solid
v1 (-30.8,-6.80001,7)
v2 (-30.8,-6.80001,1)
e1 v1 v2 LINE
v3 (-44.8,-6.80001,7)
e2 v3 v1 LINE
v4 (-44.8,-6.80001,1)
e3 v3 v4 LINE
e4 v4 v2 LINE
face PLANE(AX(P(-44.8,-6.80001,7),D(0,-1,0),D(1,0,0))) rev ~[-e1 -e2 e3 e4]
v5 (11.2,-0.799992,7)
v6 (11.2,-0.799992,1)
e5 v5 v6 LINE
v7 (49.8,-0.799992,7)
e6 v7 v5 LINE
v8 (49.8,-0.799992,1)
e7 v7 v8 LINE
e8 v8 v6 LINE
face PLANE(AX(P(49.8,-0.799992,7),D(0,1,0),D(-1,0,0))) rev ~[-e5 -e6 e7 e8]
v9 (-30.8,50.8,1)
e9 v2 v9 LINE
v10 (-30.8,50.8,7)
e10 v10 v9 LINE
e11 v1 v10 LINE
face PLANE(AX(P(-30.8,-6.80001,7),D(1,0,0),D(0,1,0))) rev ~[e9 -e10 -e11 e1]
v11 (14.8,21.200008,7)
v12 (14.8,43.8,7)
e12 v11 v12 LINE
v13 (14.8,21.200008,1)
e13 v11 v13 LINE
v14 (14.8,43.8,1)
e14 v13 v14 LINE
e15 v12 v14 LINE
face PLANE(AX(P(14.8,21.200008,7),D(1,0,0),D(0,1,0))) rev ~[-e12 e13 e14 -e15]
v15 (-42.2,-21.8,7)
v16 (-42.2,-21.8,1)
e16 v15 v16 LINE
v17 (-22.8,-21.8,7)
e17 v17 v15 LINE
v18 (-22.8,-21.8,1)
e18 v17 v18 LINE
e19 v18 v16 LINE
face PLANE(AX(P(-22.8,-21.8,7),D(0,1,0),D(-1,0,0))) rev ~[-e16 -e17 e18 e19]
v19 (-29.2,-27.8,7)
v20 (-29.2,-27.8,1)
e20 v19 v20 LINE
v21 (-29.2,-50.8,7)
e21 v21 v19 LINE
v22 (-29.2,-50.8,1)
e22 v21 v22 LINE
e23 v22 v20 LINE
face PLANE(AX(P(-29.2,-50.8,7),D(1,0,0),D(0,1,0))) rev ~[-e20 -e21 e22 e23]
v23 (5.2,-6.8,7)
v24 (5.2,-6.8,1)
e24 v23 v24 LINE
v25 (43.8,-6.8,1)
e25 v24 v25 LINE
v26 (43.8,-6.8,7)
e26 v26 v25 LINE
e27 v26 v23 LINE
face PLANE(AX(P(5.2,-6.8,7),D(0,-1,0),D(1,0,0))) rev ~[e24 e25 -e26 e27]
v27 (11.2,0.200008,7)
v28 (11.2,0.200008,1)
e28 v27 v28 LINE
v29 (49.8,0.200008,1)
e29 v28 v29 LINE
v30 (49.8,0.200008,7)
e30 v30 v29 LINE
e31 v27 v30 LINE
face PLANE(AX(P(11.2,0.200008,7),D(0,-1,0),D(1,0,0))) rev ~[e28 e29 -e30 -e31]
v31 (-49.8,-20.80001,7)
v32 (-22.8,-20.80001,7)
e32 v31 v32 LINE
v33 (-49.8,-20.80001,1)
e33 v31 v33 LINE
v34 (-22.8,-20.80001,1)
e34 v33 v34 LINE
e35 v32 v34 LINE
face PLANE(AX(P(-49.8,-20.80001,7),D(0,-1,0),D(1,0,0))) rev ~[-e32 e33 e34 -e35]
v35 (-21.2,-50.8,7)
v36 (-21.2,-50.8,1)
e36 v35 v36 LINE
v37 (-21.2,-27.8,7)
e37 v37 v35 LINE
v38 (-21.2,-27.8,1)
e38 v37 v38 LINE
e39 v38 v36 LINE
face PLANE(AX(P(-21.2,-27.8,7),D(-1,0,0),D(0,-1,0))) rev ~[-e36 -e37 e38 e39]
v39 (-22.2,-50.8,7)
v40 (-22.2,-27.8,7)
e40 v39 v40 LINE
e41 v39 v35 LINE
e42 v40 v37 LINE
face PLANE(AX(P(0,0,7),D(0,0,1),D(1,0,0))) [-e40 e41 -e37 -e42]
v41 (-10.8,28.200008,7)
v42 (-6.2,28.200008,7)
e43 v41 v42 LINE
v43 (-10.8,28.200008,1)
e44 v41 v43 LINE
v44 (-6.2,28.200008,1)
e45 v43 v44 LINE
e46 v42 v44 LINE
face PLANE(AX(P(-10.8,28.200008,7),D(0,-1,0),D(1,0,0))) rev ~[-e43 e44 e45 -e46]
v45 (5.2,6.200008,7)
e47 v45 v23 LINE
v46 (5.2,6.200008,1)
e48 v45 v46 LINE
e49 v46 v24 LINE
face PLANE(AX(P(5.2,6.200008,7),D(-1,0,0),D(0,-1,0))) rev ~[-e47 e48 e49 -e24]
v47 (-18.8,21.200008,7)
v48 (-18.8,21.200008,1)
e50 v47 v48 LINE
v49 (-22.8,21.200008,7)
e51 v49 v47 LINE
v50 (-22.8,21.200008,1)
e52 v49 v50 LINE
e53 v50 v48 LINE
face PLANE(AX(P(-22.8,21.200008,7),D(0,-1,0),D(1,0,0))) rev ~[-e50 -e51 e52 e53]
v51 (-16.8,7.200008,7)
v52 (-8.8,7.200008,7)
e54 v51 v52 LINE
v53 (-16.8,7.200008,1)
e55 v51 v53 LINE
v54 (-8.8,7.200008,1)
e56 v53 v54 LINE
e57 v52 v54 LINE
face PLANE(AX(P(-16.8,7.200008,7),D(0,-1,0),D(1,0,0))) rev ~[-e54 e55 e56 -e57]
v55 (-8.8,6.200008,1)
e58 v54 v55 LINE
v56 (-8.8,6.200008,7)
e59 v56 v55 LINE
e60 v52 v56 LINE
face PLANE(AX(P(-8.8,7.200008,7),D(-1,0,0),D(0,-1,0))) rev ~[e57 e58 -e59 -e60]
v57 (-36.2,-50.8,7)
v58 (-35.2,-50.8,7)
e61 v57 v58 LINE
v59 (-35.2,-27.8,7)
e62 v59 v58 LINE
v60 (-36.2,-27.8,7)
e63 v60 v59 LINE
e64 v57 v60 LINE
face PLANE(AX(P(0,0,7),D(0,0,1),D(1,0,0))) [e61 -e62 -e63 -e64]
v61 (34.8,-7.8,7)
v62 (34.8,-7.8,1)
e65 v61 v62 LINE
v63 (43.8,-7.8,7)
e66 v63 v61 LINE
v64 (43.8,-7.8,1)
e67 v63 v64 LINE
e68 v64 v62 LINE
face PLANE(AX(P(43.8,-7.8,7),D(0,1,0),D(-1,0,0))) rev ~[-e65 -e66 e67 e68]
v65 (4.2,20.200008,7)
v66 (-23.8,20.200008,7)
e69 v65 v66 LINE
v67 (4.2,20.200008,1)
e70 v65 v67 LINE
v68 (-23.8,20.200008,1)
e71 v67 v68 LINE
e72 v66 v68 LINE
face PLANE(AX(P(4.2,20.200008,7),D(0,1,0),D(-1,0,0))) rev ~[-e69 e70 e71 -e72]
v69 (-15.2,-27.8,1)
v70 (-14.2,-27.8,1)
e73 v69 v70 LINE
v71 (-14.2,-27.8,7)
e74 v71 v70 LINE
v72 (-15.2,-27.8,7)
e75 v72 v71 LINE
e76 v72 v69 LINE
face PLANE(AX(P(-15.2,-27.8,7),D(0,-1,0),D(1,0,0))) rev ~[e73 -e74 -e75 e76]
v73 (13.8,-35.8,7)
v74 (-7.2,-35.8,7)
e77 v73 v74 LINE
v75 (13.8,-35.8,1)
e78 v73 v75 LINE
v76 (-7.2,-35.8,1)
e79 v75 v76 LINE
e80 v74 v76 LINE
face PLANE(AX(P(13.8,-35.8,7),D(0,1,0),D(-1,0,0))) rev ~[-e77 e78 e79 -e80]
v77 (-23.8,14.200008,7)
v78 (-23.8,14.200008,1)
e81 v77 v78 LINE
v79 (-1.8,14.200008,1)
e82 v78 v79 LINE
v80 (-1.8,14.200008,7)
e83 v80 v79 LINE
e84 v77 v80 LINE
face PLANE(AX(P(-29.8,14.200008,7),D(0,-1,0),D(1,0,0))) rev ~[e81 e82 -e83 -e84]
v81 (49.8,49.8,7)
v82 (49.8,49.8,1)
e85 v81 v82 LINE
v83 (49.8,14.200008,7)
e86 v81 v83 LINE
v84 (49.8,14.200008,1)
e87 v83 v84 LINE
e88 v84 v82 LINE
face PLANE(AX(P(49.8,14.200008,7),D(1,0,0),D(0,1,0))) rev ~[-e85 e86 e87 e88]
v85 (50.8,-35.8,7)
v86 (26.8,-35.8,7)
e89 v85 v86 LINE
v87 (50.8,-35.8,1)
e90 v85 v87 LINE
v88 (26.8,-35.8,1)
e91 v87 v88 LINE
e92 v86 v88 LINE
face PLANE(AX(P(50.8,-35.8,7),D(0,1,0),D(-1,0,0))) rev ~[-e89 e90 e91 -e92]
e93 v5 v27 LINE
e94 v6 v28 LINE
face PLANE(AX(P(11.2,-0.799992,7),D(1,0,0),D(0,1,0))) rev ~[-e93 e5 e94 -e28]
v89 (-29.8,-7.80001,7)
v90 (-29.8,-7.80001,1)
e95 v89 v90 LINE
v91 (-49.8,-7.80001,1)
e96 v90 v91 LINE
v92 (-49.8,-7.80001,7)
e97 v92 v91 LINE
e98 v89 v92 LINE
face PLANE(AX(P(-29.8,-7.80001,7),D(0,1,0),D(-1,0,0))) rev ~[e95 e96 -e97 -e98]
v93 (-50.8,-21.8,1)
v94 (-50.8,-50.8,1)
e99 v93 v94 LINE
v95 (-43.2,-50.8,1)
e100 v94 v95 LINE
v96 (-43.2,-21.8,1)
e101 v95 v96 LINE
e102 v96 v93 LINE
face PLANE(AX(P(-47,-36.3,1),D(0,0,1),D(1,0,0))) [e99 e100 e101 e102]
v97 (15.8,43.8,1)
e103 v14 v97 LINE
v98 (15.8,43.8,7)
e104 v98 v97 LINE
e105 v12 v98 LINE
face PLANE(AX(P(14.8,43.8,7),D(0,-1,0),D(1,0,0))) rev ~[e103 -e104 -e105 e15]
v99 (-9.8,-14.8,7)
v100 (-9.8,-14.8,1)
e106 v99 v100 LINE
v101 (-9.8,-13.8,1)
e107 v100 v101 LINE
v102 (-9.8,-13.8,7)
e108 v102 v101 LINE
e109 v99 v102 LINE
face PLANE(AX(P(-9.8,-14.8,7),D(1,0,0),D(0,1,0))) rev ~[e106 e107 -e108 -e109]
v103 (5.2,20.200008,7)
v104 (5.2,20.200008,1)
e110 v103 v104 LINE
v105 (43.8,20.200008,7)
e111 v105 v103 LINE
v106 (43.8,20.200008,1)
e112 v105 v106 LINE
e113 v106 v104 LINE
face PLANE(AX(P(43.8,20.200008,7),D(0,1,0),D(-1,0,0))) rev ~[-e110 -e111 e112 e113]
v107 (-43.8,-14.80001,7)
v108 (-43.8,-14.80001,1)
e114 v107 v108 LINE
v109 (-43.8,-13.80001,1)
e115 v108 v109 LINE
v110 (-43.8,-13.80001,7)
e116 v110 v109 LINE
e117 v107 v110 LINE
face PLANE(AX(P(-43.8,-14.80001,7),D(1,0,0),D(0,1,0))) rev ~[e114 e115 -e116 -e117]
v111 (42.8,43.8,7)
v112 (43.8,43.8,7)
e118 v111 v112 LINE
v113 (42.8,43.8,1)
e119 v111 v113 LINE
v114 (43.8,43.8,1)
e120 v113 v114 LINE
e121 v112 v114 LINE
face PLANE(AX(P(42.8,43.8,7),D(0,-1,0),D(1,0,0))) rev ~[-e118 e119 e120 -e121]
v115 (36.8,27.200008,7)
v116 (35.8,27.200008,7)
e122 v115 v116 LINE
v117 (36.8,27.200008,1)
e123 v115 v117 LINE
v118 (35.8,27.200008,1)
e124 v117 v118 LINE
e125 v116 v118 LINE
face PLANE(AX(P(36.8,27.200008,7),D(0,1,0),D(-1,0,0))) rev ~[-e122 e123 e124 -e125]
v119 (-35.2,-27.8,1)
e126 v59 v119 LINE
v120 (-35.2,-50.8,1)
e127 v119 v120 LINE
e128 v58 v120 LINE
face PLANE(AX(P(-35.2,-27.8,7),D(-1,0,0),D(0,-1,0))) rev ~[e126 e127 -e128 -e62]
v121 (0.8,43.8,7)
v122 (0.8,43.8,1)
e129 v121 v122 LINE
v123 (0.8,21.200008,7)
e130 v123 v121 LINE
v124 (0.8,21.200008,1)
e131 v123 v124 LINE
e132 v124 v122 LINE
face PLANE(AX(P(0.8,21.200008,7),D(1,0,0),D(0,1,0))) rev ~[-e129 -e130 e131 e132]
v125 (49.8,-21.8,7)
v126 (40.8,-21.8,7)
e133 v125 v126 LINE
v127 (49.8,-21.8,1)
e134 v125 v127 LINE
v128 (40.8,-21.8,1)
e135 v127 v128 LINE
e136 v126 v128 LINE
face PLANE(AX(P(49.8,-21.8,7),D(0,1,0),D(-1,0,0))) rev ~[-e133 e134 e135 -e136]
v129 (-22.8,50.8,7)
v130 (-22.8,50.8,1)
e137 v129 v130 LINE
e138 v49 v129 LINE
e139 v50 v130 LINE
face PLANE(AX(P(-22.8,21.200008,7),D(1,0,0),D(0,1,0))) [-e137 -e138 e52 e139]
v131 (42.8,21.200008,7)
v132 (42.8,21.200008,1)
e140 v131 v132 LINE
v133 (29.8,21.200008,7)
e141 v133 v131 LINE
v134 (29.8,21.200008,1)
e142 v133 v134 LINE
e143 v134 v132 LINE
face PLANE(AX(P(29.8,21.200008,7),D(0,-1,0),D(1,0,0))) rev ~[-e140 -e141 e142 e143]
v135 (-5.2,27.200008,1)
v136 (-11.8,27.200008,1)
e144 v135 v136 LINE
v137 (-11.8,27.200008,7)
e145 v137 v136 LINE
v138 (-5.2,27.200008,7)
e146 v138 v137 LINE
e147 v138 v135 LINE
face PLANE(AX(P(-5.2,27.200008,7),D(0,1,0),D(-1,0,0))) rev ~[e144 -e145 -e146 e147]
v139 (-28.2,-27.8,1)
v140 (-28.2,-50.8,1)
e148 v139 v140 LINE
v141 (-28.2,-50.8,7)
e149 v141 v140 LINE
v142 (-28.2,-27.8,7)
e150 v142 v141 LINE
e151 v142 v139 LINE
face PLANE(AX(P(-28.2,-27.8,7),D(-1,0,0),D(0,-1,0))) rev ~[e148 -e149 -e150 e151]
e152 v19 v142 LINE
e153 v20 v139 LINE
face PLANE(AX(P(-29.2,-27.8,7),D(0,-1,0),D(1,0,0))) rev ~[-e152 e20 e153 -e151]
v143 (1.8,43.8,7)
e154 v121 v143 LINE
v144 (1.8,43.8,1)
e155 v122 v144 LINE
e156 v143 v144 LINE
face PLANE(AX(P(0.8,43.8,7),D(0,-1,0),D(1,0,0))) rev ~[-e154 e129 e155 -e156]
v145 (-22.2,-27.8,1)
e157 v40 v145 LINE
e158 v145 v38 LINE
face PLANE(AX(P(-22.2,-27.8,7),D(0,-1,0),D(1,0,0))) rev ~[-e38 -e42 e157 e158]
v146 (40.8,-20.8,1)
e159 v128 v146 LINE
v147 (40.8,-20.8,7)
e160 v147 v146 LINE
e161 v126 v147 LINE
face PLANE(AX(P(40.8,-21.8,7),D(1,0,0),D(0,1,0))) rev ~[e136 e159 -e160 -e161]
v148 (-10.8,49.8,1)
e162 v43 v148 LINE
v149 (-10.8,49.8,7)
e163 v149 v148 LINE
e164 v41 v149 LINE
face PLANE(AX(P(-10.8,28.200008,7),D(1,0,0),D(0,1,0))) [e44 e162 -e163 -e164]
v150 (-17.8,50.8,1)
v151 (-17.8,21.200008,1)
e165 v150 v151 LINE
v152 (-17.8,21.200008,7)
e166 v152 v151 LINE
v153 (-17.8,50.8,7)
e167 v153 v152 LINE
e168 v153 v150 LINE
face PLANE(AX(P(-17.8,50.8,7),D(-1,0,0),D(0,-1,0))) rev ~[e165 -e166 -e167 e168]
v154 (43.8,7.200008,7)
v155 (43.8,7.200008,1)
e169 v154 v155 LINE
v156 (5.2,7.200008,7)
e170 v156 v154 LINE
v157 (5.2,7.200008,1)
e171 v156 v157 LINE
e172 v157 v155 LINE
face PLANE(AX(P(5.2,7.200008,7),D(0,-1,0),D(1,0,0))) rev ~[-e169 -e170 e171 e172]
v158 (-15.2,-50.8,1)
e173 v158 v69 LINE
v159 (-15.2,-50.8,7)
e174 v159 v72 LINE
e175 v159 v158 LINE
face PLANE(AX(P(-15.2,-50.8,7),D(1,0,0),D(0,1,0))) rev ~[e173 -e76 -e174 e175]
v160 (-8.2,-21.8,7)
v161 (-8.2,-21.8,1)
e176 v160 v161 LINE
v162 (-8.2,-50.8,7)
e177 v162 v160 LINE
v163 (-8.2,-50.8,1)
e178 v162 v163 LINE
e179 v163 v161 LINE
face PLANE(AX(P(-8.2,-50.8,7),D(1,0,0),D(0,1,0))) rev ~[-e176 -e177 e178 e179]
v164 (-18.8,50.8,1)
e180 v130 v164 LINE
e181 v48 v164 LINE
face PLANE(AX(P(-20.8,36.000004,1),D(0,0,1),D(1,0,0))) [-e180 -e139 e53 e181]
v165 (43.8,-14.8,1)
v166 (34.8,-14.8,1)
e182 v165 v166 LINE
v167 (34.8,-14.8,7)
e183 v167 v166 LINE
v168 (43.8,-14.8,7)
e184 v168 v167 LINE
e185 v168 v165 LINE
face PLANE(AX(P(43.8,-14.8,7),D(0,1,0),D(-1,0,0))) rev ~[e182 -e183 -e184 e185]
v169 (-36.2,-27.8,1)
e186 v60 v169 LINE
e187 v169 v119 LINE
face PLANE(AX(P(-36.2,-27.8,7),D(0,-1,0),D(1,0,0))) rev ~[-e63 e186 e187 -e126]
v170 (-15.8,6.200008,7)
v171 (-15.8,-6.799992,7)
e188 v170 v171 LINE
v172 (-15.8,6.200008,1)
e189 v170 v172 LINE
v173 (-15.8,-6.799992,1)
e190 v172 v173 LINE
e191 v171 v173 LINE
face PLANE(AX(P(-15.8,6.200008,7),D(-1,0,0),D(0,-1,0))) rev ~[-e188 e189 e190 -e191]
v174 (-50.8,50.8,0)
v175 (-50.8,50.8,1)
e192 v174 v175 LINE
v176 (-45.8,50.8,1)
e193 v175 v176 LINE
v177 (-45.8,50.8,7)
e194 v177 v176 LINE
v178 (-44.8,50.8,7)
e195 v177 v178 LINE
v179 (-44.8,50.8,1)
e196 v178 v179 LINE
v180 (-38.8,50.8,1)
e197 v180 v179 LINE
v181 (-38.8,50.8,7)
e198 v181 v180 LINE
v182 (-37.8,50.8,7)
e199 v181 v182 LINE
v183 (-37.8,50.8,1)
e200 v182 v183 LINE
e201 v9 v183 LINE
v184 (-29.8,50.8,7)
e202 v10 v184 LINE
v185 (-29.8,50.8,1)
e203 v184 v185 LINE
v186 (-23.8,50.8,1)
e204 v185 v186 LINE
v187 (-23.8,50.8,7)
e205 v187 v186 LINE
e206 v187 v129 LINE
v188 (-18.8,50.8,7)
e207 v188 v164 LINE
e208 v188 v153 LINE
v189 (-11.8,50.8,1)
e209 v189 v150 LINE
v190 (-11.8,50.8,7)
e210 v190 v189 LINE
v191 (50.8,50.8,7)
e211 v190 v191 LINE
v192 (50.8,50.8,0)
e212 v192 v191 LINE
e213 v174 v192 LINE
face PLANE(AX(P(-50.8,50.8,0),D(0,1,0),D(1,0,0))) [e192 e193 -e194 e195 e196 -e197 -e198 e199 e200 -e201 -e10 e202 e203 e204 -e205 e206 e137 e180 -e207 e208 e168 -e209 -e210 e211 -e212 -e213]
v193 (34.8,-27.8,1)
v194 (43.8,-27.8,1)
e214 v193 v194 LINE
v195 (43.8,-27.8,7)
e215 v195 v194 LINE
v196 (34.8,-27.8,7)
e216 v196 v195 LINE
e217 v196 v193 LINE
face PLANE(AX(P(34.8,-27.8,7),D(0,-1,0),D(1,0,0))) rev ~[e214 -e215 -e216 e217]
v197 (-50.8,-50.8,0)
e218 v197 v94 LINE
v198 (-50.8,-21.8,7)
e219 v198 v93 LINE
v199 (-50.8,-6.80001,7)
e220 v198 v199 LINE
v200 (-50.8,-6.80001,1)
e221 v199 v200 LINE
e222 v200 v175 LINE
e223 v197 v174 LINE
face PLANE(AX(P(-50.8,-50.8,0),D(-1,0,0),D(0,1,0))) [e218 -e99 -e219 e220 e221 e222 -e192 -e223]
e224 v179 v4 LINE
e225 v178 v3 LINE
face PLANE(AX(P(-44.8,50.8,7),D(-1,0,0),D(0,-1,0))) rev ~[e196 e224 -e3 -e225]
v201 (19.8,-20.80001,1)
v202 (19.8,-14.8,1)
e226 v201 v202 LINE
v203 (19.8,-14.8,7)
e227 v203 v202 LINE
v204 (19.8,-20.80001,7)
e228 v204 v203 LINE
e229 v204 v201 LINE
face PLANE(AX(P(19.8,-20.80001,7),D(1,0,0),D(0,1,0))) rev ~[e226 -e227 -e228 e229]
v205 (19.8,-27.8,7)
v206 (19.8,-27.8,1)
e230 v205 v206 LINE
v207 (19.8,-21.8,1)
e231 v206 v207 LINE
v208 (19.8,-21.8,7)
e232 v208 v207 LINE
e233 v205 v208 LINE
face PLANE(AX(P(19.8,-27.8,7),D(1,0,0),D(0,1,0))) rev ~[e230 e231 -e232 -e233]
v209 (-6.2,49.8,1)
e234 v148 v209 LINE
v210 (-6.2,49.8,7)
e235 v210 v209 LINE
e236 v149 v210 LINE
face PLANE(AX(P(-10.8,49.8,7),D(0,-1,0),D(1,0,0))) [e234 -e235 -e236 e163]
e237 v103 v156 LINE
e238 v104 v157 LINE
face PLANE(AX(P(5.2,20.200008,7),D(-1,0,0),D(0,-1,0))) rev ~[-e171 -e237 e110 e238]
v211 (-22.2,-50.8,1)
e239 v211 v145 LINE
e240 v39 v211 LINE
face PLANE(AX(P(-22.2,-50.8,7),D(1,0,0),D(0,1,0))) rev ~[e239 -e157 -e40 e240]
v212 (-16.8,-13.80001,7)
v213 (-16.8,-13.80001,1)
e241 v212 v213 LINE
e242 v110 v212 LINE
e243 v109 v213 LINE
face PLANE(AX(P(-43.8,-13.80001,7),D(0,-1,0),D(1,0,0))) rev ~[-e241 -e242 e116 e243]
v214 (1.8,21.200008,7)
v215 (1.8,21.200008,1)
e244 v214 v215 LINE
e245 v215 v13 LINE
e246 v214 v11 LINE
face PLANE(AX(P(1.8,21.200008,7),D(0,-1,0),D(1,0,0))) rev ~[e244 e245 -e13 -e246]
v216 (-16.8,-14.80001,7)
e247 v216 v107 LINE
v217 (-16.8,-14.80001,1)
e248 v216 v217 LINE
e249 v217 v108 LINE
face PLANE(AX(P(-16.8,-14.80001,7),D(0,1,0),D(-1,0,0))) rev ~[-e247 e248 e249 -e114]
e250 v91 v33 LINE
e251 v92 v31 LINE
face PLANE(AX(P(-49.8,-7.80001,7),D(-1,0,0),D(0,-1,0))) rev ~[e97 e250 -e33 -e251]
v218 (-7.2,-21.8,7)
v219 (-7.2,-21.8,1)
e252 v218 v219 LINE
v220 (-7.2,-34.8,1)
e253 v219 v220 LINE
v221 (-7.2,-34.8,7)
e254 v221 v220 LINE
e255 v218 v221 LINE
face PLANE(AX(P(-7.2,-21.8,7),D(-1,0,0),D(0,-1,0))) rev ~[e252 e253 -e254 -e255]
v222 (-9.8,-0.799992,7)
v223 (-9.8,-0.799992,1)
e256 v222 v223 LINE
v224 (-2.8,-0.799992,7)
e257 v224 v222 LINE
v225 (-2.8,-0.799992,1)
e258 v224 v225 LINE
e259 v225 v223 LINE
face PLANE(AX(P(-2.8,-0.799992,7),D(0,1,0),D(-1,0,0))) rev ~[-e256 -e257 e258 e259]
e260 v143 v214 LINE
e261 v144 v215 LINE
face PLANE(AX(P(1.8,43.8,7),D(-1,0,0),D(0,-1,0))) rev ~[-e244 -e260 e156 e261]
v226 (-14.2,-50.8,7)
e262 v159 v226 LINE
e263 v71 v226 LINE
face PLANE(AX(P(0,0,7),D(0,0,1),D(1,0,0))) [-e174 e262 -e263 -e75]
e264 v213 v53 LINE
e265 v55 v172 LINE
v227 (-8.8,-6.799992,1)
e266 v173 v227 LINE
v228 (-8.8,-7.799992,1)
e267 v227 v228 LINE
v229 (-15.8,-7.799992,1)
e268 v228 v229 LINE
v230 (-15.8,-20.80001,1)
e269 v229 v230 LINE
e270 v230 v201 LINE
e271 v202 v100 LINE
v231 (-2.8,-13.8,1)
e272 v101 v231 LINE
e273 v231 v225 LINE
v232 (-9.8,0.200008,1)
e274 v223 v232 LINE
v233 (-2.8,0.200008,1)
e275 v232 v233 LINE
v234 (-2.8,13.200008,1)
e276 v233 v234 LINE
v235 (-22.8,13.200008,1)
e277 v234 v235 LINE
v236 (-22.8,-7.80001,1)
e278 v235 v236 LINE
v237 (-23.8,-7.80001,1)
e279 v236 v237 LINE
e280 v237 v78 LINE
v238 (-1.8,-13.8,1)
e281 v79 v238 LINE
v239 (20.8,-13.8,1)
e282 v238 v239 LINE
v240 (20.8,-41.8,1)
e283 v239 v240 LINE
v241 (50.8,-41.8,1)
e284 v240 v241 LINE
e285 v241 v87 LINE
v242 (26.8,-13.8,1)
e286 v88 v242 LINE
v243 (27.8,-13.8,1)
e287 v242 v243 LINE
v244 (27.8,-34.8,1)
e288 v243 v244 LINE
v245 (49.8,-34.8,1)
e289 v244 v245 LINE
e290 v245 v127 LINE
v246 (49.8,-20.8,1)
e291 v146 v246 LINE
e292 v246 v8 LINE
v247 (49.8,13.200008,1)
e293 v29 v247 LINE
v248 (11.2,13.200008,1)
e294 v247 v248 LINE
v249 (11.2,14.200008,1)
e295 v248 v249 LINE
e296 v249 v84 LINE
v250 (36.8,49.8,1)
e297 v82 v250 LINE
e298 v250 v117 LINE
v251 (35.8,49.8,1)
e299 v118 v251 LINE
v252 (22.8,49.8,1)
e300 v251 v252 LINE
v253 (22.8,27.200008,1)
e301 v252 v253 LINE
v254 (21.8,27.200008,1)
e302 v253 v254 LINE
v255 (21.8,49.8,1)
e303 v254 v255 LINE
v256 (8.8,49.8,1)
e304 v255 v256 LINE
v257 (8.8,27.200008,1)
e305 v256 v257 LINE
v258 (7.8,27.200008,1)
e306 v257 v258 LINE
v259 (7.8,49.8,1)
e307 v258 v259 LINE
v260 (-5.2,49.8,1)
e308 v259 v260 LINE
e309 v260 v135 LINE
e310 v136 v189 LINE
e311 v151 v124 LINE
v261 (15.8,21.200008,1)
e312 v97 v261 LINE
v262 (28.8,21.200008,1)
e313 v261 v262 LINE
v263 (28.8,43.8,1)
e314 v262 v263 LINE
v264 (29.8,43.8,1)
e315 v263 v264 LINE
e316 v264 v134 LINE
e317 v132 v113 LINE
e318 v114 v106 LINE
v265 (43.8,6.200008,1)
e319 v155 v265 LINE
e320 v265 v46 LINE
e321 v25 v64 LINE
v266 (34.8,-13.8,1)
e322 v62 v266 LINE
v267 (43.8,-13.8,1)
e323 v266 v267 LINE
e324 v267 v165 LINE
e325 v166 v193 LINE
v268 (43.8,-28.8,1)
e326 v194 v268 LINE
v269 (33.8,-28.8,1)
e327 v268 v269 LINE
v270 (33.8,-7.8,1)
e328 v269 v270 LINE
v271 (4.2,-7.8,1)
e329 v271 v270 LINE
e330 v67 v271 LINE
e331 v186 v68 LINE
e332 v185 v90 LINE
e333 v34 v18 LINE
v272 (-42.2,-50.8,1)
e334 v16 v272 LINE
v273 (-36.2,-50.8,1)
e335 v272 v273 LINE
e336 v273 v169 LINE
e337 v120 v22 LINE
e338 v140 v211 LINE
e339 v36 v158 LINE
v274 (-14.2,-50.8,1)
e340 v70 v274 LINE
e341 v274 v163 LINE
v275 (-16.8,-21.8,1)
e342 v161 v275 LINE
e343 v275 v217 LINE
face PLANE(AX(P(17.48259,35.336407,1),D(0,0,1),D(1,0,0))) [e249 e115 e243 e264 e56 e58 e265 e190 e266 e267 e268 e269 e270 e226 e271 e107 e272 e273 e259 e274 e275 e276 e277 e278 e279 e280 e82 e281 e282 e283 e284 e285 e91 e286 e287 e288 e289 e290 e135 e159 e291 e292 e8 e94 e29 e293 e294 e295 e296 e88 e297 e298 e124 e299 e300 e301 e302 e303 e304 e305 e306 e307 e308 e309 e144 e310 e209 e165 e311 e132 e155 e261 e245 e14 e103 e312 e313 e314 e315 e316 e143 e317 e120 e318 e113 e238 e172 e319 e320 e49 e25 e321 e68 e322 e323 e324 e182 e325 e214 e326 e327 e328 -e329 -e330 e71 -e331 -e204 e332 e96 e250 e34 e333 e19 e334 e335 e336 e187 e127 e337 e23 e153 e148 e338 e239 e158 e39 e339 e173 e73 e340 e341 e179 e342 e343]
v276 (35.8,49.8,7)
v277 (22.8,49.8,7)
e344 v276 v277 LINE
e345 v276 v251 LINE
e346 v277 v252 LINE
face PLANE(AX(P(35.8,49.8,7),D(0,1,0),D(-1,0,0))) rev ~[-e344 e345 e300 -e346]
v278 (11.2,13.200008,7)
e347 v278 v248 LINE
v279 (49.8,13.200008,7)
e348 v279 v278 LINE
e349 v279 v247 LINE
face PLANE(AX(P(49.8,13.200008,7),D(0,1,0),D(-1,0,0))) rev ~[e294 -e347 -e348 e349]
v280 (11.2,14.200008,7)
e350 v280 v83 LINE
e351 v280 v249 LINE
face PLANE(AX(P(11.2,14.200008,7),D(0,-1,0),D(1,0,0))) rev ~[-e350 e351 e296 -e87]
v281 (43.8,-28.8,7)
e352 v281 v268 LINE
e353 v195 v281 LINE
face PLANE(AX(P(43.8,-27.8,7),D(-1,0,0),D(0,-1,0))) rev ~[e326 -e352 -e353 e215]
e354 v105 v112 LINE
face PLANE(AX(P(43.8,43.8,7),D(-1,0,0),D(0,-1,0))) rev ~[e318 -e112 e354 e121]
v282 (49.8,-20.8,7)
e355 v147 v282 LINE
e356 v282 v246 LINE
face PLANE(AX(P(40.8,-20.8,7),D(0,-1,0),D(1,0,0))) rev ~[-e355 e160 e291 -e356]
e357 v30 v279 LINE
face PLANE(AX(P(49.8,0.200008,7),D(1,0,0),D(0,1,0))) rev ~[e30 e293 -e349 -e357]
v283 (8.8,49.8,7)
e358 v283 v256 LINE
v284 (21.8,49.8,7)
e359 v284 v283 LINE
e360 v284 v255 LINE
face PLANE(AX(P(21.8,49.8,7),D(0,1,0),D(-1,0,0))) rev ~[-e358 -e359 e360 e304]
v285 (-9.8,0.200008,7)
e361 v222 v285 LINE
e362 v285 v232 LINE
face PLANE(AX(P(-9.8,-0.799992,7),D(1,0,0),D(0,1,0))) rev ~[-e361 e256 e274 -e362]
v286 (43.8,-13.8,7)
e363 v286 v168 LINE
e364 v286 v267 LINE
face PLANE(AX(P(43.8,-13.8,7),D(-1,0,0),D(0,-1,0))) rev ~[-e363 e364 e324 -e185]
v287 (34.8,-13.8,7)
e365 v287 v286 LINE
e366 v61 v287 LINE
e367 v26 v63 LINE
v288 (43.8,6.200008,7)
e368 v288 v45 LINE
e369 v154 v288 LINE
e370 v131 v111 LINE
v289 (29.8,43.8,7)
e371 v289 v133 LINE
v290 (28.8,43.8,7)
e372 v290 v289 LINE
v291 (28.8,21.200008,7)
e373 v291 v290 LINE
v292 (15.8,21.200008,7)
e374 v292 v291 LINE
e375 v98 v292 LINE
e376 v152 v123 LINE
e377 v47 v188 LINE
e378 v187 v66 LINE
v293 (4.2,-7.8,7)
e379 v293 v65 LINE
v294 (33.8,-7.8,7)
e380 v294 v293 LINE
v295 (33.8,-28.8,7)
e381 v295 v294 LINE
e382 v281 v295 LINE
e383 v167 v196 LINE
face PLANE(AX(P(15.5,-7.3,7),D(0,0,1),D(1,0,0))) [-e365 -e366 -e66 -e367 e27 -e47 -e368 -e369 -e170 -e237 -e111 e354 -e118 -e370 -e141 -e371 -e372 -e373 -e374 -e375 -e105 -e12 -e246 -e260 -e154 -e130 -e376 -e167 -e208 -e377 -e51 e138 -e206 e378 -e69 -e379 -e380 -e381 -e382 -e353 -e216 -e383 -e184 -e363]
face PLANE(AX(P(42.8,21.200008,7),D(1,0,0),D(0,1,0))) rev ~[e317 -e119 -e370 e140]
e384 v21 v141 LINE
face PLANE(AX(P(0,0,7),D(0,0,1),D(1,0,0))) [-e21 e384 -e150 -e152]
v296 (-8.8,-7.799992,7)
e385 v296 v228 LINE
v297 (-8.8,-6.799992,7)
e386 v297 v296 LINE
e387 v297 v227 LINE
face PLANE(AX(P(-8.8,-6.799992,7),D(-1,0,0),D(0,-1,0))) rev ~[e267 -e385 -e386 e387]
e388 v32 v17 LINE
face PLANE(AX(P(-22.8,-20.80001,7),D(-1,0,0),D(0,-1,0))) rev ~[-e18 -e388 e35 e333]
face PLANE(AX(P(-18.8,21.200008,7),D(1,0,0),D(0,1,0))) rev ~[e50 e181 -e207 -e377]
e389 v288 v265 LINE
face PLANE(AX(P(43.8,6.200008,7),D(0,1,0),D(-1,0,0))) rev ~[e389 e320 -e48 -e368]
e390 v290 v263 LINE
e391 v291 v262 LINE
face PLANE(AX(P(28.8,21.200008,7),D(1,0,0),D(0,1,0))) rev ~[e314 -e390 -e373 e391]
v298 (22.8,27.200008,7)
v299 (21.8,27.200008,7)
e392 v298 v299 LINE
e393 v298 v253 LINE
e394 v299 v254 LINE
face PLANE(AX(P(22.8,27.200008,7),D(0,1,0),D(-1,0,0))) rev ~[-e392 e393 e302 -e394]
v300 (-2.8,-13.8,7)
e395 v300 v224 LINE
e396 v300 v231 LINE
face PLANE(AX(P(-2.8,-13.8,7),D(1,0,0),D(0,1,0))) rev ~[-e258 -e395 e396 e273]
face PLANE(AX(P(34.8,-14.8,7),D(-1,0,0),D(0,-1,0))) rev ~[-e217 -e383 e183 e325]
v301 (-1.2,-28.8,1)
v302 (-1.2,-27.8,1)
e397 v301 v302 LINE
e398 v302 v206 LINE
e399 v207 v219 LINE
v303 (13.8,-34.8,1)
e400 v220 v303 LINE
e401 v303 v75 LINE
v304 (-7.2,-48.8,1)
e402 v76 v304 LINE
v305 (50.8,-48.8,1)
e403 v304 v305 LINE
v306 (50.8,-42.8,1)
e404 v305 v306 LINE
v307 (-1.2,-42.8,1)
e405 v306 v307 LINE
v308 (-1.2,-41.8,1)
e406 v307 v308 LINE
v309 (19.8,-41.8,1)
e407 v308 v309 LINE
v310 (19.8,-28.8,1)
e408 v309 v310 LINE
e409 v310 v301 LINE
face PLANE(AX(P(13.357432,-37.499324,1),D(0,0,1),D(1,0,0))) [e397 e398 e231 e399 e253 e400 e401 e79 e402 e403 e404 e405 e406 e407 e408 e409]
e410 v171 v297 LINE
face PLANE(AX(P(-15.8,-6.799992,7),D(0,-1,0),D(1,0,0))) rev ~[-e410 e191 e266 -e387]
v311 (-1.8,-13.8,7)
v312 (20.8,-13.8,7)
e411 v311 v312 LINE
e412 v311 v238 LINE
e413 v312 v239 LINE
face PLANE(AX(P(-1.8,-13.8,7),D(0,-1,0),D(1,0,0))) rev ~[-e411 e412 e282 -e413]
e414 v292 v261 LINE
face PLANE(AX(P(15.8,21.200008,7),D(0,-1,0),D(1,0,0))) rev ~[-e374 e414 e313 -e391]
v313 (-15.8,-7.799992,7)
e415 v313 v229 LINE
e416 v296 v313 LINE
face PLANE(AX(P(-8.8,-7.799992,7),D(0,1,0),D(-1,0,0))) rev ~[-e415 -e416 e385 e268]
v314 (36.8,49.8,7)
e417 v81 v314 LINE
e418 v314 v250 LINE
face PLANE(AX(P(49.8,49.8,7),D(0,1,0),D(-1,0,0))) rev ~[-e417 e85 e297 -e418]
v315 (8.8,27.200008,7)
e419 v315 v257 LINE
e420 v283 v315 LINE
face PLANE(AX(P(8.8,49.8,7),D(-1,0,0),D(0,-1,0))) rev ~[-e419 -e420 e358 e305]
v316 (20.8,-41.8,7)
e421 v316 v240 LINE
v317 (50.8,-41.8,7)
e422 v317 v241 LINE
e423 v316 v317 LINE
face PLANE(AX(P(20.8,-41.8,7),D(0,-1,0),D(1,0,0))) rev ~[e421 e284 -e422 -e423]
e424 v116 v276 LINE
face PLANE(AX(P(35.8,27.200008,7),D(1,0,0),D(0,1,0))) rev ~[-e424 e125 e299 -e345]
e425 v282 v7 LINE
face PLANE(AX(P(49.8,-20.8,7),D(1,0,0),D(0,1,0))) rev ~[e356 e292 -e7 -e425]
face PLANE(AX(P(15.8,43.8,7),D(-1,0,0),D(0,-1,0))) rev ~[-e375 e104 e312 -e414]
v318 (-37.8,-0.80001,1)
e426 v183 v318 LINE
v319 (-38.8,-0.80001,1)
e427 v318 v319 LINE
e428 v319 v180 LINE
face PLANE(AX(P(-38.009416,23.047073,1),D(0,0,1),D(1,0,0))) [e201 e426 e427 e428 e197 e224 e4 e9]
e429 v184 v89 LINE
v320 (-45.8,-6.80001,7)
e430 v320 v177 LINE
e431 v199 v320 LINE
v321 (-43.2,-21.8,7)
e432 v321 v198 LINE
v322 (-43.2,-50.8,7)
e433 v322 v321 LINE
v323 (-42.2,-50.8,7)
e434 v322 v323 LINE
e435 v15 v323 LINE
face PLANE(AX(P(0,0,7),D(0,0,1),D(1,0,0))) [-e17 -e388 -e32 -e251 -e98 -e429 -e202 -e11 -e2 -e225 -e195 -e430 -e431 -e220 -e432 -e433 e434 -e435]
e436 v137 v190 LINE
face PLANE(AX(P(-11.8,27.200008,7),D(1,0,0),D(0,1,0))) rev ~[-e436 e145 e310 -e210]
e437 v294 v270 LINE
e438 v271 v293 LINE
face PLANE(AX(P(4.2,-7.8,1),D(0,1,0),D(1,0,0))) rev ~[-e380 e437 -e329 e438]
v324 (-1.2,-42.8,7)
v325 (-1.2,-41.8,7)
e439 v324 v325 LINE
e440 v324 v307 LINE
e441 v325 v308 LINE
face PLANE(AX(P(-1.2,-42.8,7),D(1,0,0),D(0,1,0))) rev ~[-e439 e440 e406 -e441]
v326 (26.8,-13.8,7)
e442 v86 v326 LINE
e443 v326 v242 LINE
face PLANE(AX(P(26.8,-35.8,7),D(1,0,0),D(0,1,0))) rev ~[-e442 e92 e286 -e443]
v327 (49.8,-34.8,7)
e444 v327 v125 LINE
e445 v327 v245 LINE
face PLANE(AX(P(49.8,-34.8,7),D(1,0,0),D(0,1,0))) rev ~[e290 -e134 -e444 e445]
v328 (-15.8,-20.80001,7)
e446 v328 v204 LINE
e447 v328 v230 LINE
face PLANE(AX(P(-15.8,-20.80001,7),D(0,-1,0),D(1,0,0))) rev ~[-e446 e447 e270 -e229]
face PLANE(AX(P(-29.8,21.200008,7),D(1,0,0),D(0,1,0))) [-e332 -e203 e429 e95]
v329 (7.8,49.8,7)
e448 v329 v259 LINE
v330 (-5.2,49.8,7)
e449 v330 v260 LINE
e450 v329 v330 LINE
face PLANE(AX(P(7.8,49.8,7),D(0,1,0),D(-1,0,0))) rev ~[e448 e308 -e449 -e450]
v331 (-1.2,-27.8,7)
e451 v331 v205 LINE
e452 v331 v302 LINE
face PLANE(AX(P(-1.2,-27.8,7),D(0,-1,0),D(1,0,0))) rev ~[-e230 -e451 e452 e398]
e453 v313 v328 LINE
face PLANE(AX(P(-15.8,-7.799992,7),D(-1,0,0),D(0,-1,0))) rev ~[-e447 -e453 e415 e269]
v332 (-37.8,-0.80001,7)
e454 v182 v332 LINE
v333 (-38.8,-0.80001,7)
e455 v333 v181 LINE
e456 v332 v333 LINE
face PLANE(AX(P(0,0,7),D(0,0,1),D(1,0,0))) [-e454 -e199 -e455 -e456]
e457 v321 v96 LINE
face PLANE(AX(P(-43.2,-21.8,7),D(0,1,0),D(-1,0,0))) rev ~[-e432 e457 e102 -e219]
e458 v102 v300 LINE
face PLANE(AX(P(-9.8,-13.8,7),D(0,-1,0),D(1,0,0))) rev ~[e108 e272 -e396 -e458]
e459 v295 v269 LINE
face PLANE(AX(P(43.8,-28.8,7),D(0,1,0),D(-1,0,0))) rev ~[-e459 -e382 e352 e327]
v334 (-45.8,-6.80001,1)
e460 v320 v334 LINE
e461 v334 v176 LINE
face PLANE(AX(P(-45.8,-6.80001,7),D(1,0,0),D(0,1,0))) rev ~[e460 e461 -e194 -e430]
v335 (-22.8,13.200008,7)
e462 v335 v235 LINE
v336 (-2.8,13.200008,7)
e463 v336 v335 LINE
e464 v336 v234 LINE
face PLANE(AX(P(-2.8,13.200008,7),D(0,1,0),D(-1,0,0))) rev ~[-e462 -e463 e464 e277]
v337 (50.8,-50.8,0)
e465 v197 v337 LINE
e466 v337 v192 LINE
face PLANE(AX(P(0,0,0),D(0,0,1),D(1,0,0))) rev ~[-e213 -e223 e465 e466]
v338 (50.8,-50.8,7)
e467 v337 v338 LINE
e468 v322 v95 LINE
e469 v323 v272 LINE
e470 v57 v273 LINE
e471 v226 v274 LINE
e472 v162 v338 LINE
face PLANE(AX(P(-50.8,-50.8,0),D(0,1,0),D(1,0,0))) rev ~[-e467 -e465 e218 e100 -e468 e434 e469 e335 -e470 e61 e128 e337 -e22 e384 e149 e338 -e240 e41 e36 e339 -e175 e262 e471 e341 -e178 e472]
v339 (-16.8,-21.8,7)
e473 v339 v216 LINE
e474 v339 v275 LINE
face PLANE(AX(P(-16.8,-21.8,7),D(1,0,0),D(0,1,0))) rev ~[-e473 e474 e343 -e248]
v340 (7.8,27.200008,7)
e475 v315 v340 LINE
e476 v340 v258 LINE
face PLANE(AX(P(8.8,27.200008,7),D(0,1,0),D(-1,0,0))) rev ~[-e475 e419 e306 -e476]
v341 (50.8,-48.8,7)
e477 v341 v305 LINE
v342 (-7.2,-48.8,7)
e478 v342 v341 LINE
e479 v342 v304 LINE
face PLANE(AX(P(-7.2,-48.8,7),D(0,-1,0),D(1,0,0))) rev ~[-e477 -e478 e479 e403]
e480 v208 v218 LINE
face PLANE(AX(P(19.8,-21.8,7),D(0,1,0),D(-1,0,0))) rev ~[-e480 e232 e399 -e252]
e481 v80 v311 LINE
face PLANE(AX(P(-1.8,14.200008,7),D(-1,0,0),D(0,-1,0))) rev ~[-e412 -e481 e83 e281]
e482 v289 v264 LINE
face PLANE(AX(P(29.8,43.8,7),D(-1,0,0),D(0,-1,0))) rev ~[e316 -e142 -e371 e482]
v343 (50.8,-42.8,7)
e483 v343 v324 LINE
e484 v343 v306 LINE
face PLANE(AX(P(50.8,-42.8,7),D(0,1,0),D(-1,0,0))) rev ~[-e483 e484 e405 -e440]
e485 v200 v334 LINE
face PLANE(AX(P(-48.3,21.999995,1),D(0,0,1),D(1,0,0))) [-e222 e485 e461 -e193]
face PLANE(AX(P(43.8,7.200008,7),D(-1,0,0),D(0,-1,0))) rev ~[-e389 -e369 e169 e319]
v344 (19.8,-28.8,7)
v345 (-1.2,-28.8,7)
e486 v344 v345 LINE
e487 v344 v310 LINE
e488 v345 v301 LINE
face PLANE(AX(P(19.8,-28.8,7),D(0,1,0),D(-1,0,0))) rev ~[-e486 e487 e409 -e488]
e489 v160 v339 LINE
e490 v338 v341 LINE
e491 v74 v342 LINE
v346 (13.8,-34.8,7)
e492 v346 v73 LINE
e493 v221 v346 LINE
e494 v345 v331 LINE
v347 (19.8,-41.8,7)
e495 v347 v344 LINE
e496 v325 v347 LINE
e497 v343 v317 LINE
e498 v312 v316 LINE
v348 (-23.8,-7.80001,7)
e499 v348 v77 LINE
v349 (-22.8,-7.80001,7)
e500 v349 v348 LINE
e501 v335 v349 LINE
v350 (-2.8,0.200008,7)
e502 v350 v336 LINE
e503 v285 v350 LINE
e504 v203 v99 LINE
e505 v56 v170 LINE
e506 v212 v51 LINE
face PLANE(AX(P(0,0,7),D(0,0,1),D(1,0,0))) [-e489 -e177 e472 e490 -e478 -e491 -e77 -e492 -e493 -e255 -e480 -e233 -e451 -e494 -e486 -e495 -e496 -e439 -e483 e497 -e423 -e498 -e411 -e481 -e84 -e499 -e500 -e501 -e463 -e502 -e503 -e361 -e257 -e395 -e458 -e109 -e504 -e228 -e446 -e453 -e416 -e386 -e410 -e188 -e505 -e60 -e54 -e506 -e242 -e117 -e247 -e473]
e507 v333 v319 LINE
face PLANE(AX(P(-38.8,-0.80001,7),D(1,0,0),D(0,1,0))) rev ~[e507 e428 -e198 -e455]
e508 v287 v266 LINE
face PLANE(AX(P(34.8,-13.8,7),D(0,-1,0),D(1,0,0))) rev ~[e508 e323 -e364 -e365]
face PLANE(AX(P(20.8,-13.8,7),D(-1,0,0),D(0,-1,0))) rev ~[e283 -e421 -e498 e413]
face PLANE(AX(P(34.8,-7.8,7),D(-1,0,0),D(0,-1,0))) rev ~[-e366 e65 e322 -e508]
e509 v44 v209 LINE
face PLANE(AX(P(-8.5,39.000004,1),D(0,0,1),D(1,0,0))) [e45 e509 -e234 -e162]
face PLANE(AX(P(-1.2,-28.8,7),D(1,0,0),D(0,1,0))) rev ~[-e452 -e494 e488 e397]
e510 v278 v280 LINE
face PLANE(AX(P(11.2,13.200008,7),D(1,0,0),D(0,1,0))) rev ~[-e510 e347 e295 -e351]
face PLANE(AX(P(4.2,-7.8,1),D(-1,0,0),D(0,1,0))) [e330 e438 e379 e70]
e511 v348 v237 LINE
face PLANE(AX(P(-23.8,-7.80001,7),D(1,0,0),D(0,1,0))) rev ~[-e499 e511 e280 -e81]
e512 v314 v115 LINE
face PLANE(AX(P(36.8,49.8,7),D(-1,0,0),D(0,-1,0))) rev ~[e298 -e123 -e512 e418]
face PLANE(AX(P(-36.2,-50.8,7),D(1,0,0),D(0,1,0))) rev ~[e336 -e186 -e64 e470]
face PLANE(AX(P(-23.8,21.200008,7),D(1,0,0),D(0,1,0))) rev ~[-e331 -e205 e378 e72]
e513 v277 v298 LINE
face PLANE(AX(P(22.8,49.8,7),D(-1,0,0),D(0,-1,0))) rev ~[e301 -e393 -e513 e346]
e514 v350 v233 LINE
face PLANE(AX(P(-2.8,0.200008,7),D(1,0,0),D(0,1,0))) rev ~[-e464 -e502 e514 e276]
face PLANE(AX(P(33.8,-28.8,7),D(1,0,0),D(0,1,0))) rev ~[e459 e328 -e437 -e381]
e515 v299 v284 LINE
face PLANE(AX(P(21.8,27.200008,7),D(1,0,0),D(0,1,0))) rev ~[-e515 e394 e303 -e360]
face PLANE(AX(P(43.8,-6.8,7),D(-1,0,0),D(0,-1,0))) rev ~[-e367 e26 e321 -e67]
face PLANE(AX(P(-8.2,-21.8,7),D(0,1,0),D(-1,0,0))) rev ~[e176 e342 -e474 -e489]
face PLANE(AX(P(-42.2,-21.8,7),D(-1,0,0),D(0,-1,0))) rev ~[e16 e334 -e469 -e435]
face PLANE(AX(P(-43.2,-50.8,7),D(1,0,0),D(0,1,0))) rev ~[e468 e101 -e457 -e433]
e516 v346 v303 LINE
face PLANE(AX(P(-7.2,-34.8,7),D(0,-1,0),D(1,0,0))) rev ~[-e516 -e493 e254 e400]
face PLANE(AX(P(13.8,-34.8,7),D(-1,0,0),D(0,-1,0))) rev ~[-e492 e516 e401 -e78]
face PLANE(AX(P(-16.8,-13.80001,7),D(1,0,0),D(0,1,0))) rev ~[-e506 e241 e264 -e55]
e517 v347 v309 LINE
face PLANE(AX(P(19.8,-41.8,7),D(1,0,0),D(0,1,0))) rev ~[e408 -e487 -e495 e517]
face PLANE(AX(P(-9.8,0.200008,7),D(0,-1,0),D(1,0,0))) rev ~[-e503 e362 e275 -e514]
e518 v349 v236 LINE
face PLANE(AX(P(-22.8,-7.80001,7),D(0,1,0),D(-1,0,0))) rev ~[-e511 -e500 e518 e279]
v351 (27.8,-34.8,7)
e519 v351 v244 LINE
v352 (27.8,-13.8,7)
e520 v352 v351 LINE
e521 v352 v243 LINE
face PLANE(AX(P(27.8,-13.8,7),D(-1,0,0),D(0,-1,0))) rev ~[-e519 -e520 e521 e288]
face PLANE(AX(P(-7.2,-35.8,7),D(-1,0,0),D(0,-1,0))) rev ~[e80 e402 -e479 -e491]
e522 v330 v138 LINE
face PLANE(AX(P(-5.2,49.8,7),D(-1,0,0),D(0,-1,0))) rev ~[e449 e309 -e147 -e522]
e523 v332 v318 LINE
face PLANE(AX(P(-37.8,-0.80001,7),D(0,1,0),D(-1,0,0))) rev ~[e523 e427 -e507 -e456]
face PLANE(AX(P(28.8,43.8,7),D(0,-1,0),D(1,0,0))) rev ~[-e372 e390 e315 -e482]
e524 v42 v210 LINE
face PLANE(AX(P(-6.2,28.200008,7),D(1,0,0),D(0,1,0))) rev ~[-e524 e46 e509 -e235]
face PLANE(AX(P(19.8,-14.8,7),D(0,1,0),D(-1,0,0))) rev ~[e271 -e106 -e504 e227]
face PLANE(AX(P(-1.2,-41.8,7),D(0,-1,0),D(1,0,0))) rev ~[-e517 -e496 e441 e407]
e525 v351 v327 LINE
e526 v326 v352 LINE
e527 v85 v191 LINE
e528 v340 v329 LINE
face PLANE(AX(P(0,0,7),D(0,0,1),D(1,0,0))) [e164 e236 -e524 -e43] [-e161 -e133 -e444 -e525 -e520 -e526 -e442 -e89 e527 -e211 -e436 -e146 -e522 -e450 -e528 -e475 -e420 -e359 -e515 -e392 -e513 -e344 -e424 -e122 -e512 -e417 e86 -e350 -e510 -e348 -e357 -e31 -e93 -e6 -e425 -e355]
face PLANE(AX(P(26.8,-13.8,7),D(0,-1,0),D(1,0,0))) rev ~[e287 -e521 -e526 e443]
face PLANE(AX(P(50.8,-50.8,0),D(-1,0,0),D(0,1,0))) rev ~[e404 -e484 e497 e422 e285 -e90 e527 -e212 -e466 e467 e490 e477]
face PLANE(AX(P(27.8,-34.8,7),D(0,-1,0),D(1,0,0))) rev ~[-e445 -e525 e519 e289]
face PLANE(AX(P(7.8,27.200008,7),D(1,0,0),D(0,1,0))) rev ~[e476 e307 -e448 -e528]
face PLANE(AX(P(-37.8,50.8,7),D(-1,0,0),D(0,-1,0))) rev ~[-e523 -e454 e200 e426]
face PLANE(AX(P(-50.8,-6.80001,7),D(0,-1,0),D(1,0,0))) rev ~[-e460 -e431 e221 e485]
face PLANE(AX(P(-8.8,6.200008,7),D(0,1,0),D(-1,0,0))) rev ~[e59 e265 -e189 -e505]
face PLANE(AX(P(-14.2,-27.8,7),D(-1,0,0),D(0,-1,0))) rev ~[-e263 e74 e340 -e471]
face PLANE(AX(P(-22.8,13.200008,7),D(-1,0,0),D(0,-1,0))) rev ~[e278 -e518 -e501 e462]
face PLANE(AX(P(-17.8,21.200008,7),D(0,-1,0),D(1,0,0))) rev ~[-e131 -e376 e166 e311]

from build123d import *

# Parameters (mm, degrees)
F0_W      = 101.6
F0_H      = 101.6
F1_DEPTH  = 7
F3_DEPTH  = 6
F4_W      = 5
F4_H      = 57.6000098
F5_DEPTH  = 6
F6_W      = 6
F6_H      = 29.5999916
F6_W_2    = 4
F6_W_3    = 4.6
F6_H_2    = 21.5999916
F7_DEPTH  = 6
F9_DEPTH  = 6
F11_DEPTH = 6
F12_W     = 22.6
F12_H     = 1
F13_DEPTH = 6
F15_DEPTH = 6


with BuildPart() as f1:
    # F0 (on Top) → F1 (new body)
    with BuildSketch(Plane.XY):
        Rectangle(F0_W, F0_H)
    extrude(amount=F1_DEPTH)

    # F2 (on face) → F3 (cut)
    with BuildSketch(Plane.XY.offset(7)):
        Polygon((-1.2, -42.8), (-1.2, -41.8), (19.8, -41.8), (19.8, -28.8), (-1.2, -28.8), (-1.2, -27.8), (19.8, -27.8), (19.8, -21.8), (-7.2, -21.8), (-7.2, -34.8), (13.8, -34.8), (13.8, -35.8), (-7.2, -35.8), (-7.2, -48.8), (50.8, -48.8), (50.8, -42.8), align=None)
    extrude(amount=-F3_DEPTH, mode=Mode.SUBTRACT)

    # F4 (on face) → F5 (cut)
    with BuildSketch(Plane.XY.offset(7)):
        with Locations((-48.3, 21.9999951)):
            Rectangle(F4_W, F4_H)
        Polygon((-44.8, 50.8), (-44.8, -6.8000098), (-30.8, -6.8000098), (-30.8, 50.8), (-37.8, 50.8), (-37.8, -0.8000098), (-38.8, -0.8000098), (-38.8, 50.8), align=None)
    extrude(amount=-F5_DEPTH, mode=Mode.SUBTRACT)

    # F6 (on face) → F7 (cut)
    with BuildSketch(Plane.XY.offset(7)):
        with Locations((-26.8, 36.0000042)):
            Rectangle(F6_W, F6_H)
        with Locations((-20.8, 36.0000042)):
            Rectangle(F6_W_2, F6_H)
        Polygon((-17.8, 50.8), (-17.8, 21.2000084), (0.8, 21.2000084), (0.8, 43.8), (1.8, 43.8), (1.8, 21.2000084), (14.8, 21.2000084), (14.8, 43.8), (15.8, 43.8), (15.8, 21.2000084), (28.8, 21.2000084), (28.8, 43.8), (29.8, 43.8), (29.8, 21.2000084), (42.8, 21.2000084), (42.8, 43.8), (43.8, 43.8), (43.8, 21.2000084), (49.8, 21.2000084), (49.8, 49.8), (36.8, 49.8), (36.8, 27.2000084), (35.8, 27.2000084), (35.8, 49.8), (22.8, 49.8), (22.8, 27.2000084), (21.8, 27.2000084), (21.8, 49.8), (8.8, 49.8), (8.8, 27.2000084), (7.8, 27.2000084), (7.8, 49.8), (-5.2, 49.8), (-5.2, 28.2000084), (-5.2, 27.2000084), (-6.2, 27.2000084), (-10.8, 27.2000084), (-11.8, 27.2000084), (-11.8, 28.2000084), (-11.8, 49.8), (-11.8, 50.8), align=None)
        with Locations((-8.5, 39.0000042)):
            Rectangle(F6_W_3, F6_H_2)
    extrude(amount=-F7_DEPTH, mode=Mode.SUBTRACT)

    # F8 (on face) → F9 (cut)
    with BuildSketch(Plane.XY.offset(7)):
        Polygon((-29.8, 21.2000084), (-29.8, 14.2000084), (-1.8, 14.2000084), (-1.8, -13.8), (19.8, -13.8), (20.8, -13.8), (20.8, -41.8), (50.8, -41.8), (50.8, -35.8), (26.8, -35.8), (26.8, -34.8), (26.8, -6.8), (4.2, -6.8), (4.2, 20.2000084), (-22.8, 20.2000084), (-23.8, 20.2000084), (-23.8, 21.2000084), align=None)
    extrude(amount=-F9_DEPTH, mode=Mode.SUBTRACT)

    # F10 (on face) → F11 (cut)
    with BuildSketch(Plane.XY.offset(7)):
        Polygon((49.8, 21.2000084), (43.8, 21.2000084), (43.8, 20.2000084), (5.2, 20.2000084), (5.2, 7.2000084), (43.8, 7.2000084), (43.8, 6.2000084), (5.2, 6.2000084), (5.2, -5.8), (5.2, -6.8), (26.8, -6.8), (43.8, -6.8), (43.8, -7.8), (34.8, -7.8), (34.8, -13.8), (43.8, -13.8), (43.8, -14.8), (34.8, -14.8), (34.8, -27.8), (43.8, -27.8), (43.8, -28.8), (34.8, -28.8), (33.8, -28.8), (33.8, -7.8), (26.8, -7.8), (26.8, -13.8), (27.8, -13.8), (27.8, -34.8), (49.8, -34.8), (49.8, -21.8), (40.8, -21.8), (40.8, -20.8), (49.8, -20.8), (49.8, -7.8), (49.8, -6.8), (49.8, -0.7999916), (11.2, -0.7999916), (11.2, 0.2000084), (49.8, 0.2000084), (49.8, 13.2000084), (11.2, 13.2000084), (11.2, 14.2000084), (49.8, 14.2000084), align=None)
    extrude(amount=-F11_DEPTH, mode=Mode.SUBTRACT)

    # F12 (on face) → F13 (join)
    with BuildSketch(Plane.XY.offset(1)):
        with Locations((15.5, -7.3)):
            Rectangle(F12_W, F12_H)
    extrude(amount=F13_DEPTH)

    # F14 (on face) → F15 (cut)
    with BuildSketch(Plane.XY.offset(7)):
        Polygon((-29.8, -6.8000098), (-29.8, -7.8000098), (-49.8, -7.8000098), (-49.8, -20.8000098), (-22.8, -20.8000098), (-22.8, -21.8), (-42.2, -21.8), (-42.2, -27.8), (-42.2, -50.8), (-36.2, -50.8), (-36.2, -27.8), (-35.2, -27.8), (-35.2, -50.8), (-29.2, -50.8), (-29.2, -27.8), (-28.2, -27.8), (-28.2, -50.8), (-22.2, -50.8), (-22.2, -27.8), (-21.2, -27.8), (-21.2, -50.8), (-15.2, -50.8), (-15.2, -27.8), (-14.2, -27.8), (-14.2, -50.8), (-8.2, -50.8), (-8.2, -21.8), (-16.8, -21.8), (-16.8, -20.8000098), (-16.8, -14.8000098), (-43.8, -14.8000098), (-43.8, -13.8000098), (-16.8, -13.8000098), (-16.8, 7.2000084), (-15.8, 7.2000084), (-8.8, 7.2000084), (-8.8, 6.2000084), (-15.8, 6.2000084), (-15.8, -6.7999916), (-8.8, -6.7999916), (-8.8, -7.7999916), (-15.8, -7.7999916), (-15.8, -14.8000098), (-15.8, -20.8000098), (19.8, -20.8000098), (19.8, -14.8), (-2.8, -14.8), (-9.8, -14.8), (-9.8, -13.8), (-2.8, -13.8), (-2.8, -0.7999916), (-9.8, -0.7999916), (-9.8, 0.2000084), (-2.8, 0.2000084), (-2.8, 13.2000084), (-22.8, 13.2000084), (-22.8, -7.8000098), (-23.8, -7.8000098), (-23.8, 14.2000084), (-29.8, 14.2000084), align=None)
        Polygon((-43.2, -21.8), (-50.8, -21.8), (-50.8, -50.8), (-43.2, -50.8), (-43.2, -27.8), align=None)
    extrude(amount=-F15_DEPTH, mode=Mode.SUBTRACT)


solid = f1.part
